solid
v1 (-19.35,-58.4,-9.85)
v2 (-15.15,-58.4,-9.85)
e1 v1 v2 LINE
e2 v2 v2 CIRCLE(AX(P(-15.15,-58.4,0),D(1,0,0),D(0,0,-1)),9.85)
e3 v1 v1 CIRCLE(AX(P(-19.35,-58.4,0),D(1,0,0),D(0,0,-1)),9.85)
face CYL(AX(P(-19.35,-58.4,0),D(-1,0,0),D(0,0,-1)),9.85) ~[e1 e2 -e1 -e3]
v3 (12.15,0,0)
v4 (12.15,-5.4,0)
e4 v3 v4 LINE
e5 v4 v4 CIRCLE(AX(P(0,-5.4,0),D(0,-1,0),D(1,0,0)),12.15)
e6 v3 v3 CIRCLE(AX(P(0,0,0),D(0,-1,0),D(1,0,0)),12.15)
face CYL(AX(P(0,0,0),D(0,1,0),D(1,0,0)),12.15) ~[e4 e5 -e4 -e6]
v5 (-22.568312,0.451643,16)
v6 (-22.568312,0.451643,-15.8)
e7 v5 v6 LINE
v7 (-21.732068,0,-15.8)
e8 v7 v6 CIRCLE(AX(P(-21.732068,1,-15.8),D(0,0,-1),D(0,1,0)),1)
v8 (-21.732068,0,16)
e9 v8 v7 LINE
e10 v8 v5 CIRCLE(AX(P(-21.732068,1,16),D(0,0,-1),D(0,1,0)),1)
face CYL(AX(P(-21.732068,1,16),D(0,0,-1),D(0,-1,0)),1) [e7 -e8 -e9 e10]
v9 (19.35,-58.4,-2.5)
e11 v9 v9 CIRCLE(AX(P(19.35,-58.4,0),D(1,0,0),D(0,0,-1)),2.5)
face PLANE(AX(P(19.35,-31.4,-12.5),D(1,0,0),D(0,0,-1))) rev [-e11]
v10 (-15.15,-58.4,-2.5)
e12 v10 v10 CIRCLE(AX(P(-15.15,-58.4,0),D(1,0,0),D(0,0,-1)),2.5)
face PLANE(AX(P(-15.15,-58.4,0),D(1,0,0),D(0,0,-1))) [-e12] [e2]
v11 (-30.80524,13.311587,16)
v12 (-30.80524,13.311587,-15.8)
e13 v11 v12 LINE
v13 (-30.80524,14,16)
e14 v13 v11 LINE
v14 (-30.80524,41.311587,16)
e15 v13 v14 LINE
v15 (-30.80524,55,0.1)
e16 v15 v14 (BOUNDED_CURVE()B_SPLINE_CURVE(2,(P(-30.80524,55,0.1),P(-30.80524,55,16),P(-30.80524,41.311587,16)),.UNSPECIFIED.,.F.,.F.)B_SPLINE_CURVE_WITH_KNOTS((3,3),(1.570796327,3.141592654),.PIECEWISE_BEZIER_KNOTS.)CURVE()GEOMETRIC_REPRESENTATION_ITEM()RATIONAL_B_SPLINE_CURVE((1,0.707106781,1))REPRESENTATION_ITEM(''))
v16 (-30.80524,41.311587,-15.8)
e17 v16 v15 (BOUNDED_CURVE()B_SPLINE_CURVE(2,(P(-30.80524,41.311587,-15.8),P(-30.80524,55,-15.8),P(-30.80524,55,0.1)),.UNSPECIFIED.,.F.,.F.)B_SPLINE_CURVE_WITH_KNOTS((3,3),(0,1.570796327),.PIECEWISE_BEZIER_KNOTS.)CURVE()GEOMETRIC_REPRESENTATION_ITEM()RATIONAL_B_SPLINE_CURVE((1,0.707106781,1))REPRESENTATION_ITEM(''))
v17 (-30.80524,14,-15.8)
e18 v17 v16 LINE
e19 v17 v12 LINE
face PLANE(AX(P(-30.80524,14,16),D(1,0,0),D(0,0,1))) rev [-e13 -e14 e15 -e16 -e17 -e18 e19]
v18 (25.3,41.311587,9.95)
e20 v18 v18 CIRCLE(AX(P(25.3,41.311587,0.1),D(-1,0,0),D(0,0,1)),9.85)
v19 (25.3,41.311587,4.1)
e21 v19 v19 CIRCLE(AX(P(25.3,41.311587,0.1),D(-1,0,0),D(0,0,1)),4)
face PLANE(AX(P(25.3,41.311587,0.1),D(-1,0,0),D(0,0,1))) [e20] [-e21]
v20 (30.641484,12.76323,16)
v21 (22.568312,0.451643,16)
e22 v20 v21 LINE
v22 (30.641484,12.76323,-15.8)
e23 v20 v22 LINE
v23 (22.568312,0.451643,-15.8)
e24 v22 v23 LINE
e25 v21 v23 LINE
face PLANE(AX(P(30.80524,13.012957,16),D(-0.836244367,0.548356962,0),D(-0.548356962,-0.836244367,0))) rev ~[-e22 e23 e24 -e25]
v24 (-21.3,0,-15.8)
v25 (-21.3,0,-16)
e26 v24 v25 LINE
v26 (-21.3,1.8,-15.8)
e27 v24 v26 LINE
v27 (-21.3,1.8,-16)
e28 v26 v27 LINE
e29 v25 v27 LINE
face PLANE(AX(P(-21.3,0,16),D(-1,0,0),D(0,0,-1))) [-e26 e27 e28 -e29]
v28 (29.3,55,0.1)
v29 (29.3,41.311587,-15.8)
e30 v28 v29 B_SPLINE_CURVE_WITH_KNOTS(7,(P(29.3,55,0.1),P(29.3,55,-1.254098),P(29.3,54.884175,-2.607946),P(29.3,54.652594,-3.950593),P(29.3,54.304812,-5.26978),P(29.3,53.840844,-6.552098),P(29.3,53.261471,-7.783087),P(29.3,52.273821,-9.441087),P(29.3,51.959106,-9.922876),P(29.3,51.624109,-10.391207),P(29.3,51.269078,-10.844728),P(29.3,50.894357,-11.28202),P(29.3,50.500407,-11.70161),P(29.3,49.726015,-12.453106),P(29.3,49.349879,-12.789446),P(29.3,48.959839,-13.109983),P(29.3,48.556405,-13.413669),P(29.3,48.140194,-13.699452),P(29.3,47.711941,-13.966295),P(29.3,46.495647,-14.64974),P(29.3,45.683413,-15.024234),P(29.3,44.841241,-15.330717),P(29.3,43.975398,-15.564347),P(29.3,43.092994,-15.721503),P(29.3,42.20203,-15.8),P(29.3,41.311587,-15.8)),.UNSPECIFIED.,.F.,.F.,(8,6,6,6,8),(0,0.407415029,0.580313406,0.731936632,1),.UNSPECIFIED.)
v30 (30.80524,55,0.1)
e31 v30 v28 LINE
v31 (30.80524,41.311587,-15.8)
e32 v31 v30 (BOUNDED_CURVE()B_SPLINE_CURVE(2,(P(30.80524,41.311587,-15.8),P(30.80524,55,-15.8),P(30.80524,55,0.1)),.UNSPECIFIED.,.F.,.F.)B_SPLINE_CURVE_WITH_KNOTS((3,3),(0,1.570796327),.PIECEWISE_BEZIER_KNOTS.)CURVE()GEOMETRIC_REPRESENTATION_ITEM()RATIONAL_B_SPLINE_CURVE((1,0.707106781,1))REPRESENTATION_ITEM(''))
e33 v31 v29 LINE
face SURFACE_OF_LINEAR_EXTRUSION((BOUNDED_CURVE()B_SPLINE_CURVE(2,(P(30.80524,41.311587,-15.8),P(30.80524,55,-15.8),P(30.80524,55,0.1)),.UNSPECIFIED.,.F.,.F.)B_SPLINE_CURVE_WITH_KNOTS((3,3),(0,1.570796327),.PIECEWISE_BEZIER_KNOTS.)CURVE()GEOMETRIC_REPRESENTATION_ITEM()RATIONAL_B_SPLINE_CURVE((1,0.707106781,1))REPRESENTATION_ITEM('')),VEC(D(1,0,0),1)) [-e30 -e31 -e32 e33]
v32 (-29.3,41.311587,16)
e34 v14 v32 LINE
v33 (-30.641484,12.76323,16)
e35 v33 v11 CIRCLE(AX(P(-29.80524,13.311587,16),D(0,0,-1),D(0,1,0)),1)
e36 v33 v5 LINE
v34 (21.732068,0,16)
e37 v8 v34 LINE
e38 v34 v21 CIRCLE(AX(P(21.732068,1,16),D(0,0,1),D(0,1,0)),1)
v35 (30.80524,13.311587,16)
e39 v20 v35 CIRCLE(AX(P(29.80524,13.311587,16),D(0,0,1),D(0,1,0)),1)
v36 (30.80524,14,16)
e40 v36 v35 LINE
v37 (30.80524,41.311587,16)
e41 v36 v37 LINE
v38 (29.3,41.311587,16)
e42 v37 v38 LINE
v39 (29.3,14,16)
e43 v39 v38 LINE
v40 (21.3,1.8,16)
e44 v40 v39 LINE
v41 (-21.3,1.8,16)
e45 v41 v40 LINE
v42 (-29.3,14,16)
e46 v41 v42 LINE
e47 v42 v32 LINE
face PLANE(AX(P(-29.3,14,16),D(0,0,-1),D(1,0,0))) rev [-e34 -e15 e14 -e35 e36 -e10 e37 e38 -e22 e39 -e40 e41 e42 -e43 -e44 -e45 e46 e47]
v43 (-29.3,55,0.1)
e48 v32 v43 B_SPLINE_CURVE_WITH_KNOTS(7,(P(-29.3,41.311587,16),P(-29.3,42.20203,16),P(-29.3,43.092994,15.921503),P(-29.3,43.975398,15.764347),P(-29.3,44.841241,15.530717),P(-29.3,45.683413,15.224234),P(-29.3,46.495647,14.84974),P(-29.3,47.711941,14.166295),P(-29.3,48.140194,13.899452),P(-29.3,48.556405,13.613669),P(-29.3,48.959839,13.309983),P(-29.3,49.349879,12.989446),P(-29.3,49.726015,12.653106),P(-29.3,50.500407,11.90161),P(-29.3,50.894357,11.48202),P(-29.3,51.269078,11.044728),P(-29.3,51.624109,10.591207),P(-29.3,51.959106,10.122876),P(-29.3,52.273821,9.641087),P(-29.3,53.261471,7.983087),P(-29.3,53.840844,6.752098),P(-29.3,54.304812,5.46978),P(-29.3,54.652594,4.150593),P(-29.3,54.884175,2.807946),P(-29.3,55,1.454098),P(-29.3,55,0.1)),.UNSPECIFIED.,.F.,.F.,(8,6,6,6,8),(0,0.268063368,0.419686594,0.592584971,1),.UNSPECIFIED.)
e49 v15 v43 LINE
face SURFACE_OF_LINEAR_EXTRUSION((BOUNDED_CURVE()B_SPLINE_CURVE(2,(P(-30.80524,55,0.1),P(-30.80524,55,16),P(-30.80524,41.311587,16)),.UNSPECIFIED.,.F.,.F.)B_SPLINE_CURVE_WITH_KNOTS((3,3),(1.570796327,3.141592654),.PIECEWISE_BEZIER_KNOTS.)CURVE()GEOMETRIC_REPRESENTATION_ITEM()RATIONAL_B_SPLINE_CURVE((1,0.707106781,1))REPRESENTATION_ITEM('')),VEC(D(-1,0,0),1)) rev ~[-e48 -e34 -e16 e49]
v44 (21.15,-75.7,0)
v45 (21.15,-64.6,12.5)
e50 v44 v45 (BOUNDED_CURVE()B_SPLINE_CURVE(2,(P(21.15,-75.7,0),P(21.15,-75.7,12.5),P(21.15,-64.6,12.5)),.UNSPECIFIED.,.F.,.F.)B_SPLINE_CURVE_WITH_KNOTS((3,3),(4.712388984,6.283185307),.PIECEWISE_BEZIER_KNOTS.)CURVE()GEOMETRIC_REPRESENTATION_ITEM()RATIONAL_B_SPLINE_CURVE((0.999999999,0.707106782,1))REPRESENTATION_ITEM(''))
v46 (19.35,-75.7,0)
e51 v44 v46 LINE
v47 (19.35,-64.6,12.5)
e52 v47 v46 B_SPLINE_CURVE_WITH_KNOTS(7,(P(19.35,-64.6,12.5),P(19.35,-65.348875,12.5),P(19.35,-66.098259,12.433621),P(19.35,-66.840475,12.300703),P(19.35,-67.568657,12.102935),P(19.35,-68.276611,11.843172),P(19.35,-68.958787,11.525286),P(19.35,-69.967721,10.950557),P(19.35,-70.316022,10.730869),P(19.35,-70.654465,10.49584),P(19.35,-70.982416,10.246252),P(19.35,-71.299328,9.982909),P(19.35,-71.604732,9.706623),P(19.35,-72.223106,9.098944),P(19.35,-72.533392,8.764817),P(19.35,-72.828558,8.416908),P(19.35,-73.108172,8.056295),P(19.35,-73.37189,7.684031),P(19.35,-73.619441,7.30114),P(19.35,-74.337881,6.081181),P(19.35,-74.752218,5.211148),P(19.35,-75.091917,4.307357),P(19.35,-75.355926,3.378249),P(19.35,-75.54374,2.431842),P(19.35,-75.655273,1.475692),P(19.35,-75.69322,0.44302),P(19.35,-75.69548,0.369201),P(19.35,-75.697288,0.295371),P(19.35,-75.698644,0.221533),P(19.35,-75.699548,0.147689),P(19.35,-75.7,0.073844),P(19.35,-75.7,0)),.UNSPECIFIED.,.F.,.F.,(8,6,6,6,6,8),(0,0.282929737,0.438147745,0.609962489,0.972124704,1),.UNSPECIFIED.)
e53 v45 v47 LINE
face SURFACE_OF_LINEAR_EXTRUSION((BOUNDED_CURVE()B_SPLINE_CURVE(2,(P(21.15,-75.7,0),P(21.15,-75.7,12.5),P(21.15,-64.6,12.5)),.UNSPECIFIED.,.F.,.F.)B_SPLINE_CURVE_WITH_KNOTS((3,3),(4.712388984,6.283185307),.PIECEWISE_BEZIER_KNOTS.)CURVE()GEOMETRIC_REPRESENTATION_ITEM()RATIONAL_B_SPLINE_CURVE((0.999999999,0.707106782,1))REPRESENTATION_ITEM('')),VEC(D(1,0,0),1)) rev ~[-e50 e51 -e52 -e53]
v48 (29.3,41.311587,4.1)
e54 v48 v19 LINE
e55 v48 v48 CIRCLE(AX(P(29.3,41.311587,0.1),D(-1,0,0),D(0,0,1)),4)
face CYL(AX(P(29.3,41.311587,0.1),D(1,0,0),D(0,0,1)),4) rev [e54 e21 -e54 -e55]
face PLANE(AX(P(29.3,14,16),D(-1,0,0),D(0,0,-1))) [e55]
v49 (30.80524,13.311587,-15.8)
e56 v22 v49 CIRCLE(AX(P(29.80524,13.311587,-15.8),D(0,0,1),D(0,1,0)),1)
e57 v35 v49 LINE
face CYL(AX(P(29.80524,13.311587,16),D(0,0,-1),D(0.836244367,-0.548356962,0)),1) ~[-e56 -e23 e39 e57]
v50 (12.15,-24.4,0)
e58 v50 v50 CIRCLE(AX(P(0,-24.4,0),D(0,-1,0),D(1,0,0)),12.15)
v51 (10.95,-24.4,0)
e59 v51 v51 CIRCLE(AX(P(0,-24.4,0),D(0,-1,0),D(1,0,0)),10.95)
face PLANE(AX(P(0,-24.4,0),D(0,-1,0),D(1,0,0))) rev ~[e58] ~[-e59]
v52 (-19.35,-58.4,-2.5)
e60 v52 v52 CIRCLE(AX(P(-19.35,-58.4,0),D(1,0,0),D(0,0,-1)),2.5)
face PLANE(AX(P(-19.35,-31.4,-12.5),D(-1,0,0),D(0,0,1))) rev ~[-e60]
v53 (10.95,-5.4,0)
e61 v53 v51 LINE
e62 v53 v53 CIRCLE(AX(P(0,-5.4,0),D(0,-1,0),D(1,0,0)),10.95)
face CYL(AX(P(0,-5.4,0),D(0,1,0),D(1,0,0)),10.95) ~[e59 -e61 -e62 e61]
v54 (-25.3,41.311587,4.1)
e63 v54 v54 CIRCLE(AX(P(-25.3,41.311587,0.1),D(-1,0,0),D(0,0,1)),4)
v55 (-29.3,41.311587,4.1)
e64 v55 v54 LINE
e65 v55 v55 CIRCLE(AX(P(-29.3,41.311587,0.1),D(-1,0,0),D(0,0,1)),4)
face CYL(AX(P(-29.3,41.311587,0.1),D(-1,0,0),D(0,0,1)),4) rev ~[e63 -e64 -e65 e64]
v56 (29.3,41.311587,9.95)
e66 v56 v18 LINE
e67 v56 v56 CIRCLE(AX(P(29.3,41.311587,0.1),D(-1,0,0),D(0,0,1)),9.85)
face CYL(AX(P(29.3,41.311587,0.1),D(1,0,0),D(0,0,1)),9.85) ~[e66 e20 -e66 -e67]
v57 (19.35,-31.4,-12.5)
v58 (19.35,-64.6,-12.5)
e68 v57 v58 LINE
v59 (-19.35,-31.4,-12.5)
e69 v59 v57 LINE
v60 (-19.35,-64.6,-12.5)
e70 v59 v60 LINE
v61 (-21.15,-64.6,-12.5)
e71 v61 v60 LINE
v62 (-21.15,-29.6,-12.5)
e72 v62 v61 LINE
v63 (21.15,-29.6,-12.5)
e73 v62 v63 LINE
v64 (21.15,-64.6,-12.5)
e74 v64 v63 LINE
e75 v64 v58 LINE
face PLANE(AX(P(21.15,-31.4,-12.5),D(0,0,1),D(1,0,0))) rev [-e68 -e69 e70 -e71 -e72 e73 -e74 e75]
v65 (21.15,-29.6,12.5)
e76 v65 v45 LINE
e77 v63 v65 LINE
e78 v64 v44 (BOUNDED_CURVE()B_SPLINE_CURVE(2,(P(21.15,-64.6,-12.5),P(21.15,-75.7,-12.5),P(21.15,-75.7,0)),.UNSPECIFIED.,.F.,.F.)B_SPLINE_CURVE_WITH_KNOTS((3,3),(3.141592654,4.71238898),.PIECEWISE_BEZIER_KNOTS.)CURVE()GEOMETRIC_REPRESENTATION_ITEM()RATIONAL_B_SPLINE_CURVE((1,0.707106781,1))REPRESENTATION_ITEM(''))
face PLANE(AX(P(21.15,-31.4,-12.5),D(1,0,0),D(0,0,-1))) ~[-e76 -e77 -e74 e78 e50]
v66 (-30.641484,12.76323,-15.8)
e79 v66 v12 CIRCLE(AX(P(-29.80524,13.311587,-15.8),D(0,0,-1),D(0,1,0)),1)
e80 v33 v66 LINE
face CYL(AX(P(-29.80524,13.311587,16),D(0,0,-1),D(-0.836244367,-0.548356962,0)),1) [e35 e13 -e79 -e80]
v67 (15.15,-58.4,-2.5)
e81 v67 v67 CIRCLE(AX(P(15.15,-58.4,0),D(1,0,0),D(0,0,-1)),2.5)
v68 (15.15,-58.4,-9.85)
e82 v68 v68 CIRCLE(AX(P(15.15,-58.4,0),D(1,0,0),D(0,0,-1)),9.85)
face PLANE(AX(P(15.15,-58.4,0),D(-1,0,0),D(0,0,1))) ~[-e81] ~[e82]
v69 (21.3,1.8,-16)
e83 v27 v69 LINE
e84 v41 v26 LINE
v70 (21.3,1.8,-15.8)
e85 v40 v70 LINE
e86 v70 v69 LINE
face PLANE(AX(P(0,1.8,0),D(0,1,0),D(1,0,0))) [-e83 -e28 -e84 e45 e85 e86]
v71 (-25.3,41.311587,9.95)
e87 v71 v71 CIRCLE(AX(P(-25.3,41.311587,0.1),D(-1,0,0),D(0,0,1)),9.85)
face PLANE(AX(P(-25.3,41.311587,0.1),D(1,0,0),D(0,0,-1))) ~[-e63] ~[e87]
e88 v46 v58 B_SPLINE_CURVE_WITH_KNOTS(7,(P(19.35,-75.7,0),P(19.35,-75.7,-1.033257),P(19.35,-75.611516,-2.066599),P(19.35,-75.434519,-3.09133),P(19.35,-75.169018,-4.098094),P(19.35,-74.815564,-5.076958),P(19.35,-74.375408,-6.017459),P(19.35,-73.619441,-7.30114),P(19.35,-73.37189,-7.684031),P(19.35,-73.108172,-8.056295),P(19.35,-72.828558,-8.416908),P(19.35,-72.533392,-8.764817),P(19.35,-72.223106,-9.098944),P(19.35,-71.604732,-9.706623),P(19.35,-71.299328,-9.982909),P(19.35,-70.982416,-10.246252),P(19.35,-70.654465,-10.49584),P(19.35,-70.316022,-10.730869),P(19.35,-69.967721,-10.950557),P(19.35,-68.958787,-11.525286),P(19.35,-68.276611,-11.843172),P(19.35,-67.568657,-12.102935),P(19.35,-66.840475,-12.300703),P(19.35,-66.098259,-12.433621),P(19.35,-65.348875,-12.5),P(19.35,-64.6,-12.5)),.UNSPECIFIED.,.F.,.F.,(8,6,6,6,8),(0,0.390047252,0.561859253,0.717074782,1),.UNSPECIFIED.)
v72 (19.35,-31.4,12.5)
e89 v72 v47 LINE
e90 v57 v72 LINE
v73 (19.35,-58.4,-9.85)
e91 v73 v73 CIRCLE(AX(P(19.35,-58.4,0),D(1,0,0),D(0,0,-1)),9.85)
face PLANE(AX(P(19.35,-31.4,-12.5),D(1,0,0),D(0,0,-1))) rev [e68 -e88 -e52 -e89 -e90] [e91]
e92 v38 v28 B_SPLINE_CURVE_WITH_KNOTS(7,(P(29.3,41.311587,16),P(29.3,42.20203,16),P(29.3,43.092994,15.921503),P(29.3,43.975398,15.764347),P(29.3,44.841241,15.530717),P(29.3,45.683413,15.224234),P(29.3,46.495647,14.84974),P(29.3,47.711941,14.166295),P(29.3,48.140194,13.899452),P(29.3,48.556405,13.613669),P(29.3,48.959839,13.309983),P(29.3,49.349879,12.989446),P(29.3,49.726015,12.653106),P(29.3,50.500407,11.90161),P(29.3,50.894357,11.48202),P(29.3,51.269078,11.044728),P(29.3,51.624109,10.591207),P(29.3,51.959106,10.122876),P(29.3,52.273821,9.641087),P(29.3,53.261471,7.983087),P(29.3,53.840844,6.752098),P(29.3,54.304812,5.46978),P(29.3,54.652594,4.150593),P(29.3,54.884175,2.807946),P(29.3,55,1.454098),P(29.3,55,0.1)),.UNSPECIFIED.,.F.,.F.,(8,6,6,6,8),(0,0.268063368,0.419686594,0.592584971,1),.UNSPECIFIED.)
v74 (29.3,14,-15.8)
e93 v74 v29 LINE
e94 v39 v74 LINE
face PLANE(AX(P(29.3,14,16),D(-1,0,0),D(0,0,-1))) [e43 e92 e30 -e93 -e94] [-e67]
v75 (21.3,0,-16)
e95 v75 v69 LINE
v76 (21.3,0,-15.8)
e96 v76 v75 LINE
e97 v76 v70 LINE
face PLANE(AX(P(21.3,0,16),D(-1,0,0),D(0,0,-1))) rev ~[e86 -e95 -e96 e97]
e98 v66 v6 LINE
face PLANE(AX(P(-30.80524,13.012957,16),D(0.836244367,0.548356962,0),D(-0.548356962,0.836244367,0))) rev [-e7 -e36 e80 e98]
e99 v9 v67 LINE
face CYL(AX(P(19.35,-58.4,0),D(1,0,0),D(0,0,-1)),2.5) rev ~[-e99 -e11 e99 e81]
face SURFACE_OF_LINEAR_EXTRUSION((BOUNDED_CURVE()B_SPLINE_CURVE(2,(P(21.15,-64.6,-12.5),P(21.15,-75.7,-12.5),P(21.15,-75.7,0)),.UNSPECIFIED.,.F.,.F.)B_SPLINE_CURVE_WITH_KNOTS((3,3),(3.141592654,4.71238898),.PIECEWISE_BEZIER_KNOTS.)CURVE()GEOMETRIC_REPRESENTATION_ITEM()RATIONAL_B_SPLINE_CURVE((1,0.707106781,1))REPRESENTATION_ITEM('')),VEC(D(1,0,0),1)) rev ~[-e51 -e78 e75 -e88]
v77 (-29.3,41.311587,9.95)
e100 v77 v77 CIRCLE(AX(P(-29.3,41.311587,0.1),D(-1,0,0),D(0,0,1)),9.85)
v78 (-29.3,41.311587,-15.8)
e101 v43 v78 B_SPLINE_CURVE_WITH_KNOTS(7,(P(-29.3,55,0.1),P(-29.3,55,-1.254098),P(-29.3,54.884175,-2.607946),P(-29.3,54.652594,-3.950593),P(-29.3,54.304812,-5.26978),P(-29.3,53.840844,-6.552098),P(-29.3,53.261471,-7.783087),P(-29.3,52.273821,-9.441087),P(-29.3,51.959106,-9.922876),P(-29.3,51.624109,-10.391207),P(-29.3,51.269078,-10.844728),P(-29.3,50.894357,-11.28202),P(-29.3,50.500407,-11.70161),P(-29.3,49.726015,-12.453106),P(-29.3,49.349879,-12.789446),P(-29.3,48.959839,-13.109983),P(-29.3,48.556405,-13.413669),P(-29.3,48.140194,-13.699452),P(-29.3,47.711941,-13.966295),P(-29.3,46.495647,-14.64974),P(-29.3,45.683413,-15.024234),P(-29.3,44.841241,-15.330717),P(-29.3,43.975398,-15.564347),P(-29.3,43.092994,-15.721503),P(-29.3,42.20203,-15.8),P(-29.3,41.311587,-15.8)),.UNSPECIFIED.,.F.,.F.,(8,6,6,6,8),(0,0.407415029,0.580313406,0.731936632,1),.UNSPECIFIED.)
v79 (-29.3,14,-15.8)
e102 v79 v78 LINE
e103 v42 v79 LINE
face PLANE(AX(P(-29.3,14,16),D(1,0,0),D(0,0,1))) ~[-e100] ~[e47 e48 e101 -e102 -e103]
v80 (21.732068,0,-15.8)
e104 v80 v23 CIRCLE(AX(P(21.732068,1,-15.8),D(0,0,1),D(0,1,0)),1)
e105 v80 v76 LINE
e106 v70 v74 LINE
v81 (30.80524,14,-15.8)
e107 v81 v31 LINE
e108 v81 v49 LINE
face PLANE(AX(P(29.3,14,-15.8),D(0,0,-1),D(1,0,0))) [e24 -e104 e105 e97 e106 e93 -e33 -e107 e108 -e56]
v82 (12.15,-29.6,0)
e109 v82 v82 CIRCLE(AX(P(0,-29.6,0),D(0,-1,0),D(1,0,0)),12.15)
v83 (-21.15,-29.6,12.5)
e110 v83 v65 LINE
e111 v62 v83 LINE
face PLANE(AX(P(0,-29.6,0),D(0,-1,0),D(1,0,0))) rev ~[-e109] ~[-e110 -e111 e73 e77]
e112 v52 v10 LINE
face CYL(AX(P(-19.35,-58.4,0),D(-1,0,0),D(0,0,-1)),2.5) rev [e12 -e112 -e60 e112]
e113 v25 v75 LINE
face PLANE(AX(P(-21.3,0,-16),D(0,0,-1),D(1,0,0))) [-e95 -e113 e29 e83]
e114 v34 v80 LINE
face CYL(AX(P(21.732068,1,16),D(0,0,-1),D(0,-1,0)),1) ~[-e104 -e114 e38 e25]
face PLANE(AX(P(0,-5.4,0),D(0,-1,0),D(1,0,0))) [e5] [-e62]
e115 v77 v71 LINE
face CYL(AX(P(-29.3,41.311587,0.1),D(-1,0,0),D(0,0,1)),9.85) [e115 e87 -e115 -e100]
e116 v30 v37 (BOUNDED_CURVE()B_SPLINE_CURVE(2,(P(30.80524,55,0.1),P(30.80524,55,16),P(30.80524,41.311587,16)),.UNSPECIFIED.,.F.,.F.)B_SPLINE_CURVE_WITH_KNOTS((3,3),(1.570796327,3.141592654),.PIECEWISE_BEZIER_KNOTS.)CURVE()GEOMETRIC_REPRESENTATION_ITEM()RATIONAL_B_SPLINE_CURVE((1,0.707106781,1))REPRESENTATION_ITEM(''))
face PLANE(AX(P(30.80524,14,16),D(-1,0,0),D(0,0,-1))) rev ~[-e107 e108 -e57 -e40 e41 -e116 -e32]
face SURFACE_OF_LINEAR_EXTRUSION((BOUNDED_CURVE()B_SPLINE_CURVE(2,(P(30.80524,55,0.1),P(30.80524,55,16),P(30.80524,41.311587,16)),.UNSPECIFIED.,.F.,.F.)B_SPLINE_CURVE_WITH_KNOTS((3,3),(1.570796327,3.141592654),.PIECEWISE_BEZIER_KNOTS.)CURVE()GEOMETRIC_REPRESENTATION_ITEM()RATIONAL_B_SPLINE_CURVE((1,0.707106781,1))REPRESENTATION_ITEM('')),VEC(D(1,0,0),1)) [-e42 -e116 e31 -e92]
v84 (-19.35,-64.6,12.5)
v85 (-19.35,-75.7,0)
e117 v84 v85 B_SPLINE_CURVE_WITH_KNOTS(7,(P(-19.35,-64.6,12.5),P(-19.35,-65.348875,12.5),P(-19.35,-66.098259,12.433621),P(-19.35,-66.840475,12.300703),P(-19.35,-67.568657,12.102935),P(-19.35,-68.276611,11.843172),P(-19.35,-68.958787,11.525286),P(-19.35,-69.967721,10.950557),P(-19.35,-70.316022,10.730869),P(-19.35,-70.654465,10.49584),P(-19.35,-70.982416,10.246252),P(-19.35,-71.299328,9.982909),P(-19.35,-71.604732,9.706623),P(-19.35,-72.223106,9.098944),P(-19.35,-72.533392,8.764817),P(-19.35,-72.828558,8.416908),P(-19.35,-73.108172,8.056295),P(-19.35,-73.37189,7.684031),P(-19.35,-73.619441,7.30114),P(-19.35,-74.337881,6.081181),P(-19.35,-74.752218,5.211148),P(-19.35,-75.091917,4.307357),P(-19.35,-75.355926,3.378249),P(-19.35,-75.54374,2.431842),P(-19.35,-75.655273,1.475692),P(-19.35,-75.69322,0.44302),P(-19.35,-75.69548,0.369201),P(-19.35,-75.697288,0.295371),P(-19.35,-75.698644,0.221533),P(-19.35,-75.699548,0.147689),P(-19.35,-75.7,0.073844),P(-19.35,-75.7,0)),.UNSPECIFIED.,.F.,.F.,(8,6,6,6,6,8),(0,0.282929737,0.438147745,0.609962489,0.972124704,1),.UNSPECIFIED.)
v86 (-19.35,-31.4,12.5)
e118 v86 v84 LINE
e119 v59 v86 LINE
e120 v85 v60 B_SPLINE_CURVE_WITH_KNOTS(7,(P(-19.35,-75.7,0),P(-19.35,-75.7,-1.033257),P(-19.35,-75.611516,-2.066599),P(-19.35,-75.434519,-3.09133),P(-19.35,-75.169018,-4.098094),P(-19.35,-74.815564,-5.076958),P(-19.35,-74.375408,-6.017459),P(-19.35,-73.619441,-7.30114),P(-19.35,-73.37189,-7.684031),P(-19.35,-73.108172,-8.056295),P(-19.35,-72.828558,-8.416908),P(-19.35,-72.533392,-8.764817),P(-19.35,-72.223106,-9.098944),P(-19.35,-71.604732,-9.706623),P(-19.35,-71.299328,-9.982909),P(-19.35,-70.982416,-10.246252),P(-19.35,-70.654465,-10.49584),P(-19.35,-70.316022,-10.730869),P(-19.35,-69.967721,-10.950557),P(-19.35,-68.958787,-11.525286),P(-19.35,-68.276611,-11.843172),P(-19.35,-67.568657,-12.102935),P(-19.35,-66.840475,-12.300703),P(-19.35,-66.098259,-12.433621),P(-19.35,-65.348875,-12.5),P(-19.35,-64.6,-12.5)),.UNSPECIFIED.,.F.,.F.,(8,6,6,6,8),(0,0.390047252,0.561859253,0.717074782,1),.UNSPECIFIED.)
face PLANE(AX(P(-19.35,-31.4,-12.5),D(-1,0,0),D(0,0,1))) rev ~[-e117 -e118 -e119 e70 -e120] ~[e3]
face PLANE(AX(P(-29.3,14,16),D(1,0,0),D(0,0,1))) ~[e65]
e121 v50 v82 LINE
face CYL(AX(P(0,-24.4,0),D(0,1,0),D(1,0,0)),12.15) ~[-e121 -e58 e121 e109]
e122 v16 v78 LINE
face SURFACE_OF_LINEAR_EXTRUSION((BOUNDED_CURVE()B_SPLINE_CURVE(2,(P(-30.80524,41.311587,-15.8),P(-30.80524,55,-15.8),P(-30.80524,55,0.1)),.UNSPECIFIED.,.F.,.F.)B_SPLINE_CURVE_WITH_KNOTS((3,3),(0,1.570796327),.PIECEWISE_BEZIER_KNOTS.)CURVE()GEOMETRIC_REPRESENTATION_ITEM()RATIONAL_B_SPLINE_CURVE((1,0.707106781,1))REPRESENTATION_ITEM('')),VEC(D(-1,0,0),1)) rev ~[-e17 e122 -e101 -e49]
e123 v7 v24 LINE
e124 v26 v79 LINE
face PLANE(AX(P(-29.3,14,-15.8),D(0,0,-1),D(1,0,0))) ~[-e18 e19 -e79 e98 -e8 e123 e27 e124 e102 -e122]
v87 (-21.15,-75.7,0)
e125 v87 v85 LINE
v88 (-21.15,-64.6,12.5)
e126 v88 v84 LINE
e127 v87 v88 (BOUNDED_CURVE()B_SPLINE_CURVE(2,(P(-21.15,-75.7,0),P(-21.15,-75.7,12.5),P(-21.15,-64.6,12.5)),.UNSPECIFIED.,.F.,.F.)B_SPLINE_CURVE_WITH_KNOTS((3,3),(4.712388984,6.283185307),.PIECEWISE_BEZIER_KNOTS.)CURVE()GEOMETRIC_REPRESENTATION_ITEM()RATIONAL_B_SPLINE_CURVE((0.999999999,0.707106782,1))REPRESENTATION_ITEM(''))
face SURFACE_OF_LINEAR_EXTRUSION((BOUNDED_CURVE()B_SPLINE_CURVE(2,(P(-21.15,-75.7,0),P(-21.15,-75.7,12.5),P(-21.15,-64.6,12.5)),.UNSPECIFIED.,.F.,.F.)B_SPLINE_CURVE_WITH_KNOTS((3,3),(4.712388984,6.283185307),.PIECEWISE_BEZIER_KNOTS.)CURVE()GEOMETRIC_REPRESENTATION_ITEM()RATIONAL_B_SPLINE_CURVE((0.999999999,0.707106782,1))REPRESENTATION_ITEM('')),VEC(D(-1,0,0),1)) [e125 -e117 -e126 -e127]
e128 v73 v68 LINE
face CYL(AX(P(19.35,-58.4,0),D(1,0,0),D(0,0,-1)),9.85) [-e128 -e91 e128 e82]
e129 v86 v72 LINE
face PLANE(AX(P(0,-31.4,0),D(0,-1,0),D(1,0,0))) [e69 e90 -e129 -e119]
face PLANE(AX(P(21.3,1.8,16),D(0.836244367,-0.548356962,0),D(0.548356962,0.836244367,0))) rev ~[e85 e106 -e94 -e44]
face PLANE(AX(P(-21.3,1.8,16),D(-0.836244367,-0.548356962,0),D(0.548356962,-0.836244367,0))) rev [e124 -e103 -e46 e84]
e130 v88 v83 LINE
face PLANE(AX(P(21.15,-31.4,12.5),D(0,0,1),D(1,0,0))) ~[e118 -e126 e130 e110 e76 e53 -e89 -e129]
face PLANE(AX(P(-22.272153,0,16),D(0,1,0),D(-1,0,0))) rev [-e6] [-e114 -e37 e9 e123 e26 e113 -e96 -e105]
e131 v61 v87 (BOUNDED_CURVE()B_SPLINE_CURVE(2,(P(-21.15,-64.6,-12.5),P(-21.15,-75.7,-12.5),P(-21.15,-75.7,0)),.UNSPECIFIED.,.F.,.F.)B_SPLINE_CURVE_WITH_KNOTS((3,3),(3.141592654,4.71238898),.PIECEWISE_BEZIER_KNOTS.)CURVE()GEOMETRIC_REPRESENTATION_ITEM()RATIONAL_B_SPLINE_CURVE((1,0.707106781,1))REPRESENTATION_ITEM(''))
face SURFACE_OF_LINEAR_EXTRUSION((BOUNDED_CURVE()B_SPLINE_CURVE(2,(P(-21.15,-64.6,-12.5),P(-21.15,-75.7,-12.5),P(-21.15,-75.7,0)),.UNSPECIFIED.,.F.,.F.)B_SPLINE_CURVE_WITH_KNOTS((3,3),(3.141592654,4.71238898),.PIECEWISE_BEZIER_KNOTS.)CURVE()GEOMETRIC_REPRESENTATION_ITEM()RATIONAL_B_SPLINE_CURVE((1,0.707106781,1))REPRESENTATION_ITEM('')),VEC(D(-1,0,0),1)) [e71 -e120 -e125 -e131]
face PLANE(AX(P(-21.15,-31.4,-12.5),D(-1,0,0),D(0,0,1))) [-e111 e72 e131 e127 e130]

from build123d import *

# Parameters (mm, degrees)
SKETCH2_W            = 42.6
SKETCH2_H            = 32
BOSS_EXTRUDE1_DEPTH  = 1.8
BOSS_EXTRUDE2_DEPTH  = 31.8
FILLET1_R            = 1
SKETCH4_W            = 1.505239861
SKETCH4_H            = 31.8
BOSS_EXTRUDE3_DEPTH  = 41
CUT_EXTRUDE1_DEPTH   = 41
SKETCH7_R            = 9.85
SKETCH7_R_2          = 4
BOSS_EXTRUDE4_DEPTH  = 4
FILLET1_OF_MIRROR2_R = 1
SKETCH8_R            = 12.15
BOSS_EXTRUDE5_DEPTH  = 5.4
SKETCH9_R            = 10.95
BOSS_EXTRUDE6_DEPTH  = 19
SKETCH11_R           = 12.15
BOSS_EXTRUDE7_DEPTH  = 5.2
SKETCH12_W           = 42.3
SKETCH12_H           = 25
BOSS_EXTRUDE8_DEPTH  = 1.8
SKETCH13_W           = 1.8
SKETCH13_H           = 25
BOSS_EXTRUDE9_DEPTH  = 44.3
CUT_EXTRUDE5_DEPTH   = 44.3
SKETCH18_R           = 9.85
SKETCH18_R_2         = 2.5
BOSS_EXTRUDE10_DEPTH = 4.2


with BuildPart() as part:
    # Sketch2 → Boss-Extrude1 (new body)
    with BuildSketch(Plane(origin=(0, 0, 0), x_dir=(1, 0, 0), z_dir=(0, 1, 0))):
        Rectangle(SKETCH2_W, SKETCH2_H)
    extrude(amount=BOSS_EXTRUDE1_DEPTH)

    # Sketch3 → Boss-Extrude2 (add)
    with BuildSketch(Plane.XY.offset(16)):
        Polygon((21.3, 1.8), (29.3, 14), (30.805239861, 14), (30.805239861, 13.012957468), (22.272152997, 0), (21.3, 0), align=None)
    boss_extrude2 = extrude(amount=-BOSS_EXTRUDE2_DEPTH)

    # Fillet1
    fillet1_edges = [part.edges().sort_by_distance(p)[0] for p in [
        (30.805239861, 13.012957468, 0.1),
        (22.272152997, 0, 0.1),
    ]]
    fillet(fillet1_edges, radius=FILLET1_R)

    # Sketch4 → Boss-Extrude3 (add)
    with BuildSketch(Plane(origin=(0, 14, 0), x_dir=(1, 0, 0), z_dir=(0, 1, 0))):
        with Locations((30.052619931, -0.1)):
            Rectangle(SKETCH4_W, SKETCH4_H)
    boss_extrude3 = extrude(amount=BOSS_EXTRUDE3_DEPTH)

    # Sketch5 → Cut-Extrude1 (cut)
    with BuildSketch(Plane(origin=(30.805239861, 0, 0), x_dir=(0, 0, -1), z_dir=(1, 0, 0))):
        with BuildLine():
            Line((-16, 55), (-16, 41.31158709))
            add(Edge.make_bspline(
                [(-0.1, 55), (-16, 55), (-16, 41.31158709)],
                knots=[1.570796327, 1.570796327, 1.570796327, 3.141592654, 3.141592654, 3.141592654], degree=2, weights=[1, 0.707106781, 1]))
            Line((-0.1, 55), (-16, 55))
        make_face()
        with BuildLine():
            Line((15.8, 55), (-0.1, 55))
            add(Edge.make_bspline(
                [(15.8, 41.31158709), (15.8, 55), (-0.1, 55)],
                knots=[0, 0, 0, 1.570796327, 1.570796327, 1.570796327], degree=2, weights=[1, 0.707106781, 1]))
            Line((15.8, 41.31158709), (15.8, 55))
        make_face()
    cut_extrude1 = extrude(amount=-CUT_EXTRUDE1_DEPTH, mode=Mode.SUBTRACT)

    # Sketch7 → Boss-Extrude4 (add)
    with BuildSketch(Plane.ZY.offset(-29.3)):
        with Locations((0.1, 41.31158709)):
            Circle(SKETCH7_R)
        with Locations((0.1, 41.31158709)):
            Circle(SKETCH7_R_2, mode=Mode.SUBTRACT)
    boss_extrude4 = extrude(amount=BOSS_EXTRUDE4_DEPTH)

    # Mirror2: Boss-Extrude2, Boss-Extrude3, Cut-Extrude1, Boss-Extrude4 across plane
    add(boss_extrude2.mirror(Plane(origin=(0, 0, 0), x_dir=(0, 0, 1), z_dir=(1, 0, 0))))
    add(boss_extrude3.mirror(Plane(origin=(0, 0, 0), x_dir=(0, 0, 1), z_dir=(1, 0, 0))))
    add(cut_extrude1.mirror(Plane(origin=(0, 0, 0), x_dir=(0, 0, 1), z_dir=(1, 0, 0))), mode=Mode.SUBTRACT)
    add(boss_extrude4.mirror(Plane(origin=(0, 0, 0), x_dir=(0, 0, 1), z_dir=(1, 0, 0))))

    # Fillet1 of Mirror2
    fillet1_of_mirror2_edges = [part.edges().sort_by_distance(p)[0] for p in [
        (-30.805239861, 13.012957468, 0.1),
        (-22.272152997, 0, 0.1),
    ]]
    fillet(fillet1_of_mirror2_edges, radius=FILLET1_OF_MIRROR2_R)

    # Sketch8 → Boss-Extrude5 (add)
    with BuildSketch(Plane.XZ):
        Circle(SKETCH8_R)
    extrude(amount=BOSS_EXTRUDE5_DEPTH)

    # Sketch9 → Boss-Extrude6 (add)
    with BuildSketch(Plane.XZ.offset(5.4)):
        Circle(SKETCH9_R)
    extrude(amount=BOSS_EXTRUDE6_DEPTH)

    # Sketch11 → Boss-Extrude7 (add)
    with BuildSketch(Plane.XZ.offset(24.4)):
        Circle(SKETCH11_R)
    extrude(amount=BOSS_EXTRUDE7_DEPTH)

    # Sketch12 → Boss-Extrude8 (add)
    with BuildSketch(Plane.XZ.offset(29.6)):
        Rectangle(SKETCH12_W, SKETCH12_H)
    extrude(amount=BOSS_EXTRUDE8_DEPTH)

    # Sketch13 → Boss-Extrude9 (add)
    with BuildSketch(Plane.XZ.offset(31.4)):
        with Locations((-20.25, 0)):
            Rectangle(SKETCH13_W, SKETCH13_H)
    boss_extrude9 = extrude(amount=BOSS_EXTRUDE9_DEPTH)

    # Sketch16 → Cut-Extrude5 (cut)
    with BuildSketch(Plane.ZY.offset(21.15)):
        with BuildLine():
            add(Edge.make_bspline(
                [(-12.5, -64.6), (-12.5, -75.7), (0, -75.7)],
                knots=[3.141592654, 3.141592654, 3.141592654, 4.71238898, 4.71238898, 4.71238898], degree=2, weights=[1, 0.707106781, 1]))
            Line((-12.5, -64.6), (-12.5, -75.7))
            Line((-12.5, -75.7), (3.5e-08, -75.7))
        make_face()
        with BuildLine():
            Line((12.5, -75.7), (12.5, -64.6))
            add(Edge.make_bspline(
                [(3.5e-08, -75.7), (12.5, -75.699999969), (12.5, -64.6)],
                knots=[4.712388984, 4.712388984, 4.712388984, 6.283185307, 6.283185307, 6.283185307], degree=2, weights=[0.999999999, 0.707106782, 1]))
            Line((3.5e-08, -75.7), (12.5, -75.7))
        make_face()
    cut_extrude5 = extrude(amount=-CUT_EXTRUDE5_DEPTH, mode=Mode.SUBTRACT)

    # Sketch18 → Boss-Extrude10 (add)
    with BuildSketch(Plane(origin=(-19.35, 0, 0), x_dir=(0, 0, -1), z_dir=(1, 0, 0))):
        with Locations((0, -58.4)):
            Circle(SKETCH18_R)
        with Locations((0, -58.4)):
            Circle(SKETCH18_R_2, mode=Mode.SUBTRACT)
    boss_extrude10 = extrude(amount=BOSS_EXTRUDE10_DEPTH)

    # Mirror3: Boss-Extrude9, Cut-Extrude5, Boss-Extrude10 across plane
    add(boss_extrude9.mirror(Plane(origin=(0, 0, 0), x_dir=(0, 0, 1), z_dir=(1, 0, 0))))
    add(cut_extrude5.mirror(Plane(origin=(0, 0, 0), x_dir=(0, 0, 1), z_dir=(1, 0, 0))), mode=Mode.SUBTRACT)
    add(boss_extrude10.mirror(Plane(origin=(0, 0, 0), x_dir=(0, 0, 1), z_dir=(1, 0, 0))))


solid = part.part
